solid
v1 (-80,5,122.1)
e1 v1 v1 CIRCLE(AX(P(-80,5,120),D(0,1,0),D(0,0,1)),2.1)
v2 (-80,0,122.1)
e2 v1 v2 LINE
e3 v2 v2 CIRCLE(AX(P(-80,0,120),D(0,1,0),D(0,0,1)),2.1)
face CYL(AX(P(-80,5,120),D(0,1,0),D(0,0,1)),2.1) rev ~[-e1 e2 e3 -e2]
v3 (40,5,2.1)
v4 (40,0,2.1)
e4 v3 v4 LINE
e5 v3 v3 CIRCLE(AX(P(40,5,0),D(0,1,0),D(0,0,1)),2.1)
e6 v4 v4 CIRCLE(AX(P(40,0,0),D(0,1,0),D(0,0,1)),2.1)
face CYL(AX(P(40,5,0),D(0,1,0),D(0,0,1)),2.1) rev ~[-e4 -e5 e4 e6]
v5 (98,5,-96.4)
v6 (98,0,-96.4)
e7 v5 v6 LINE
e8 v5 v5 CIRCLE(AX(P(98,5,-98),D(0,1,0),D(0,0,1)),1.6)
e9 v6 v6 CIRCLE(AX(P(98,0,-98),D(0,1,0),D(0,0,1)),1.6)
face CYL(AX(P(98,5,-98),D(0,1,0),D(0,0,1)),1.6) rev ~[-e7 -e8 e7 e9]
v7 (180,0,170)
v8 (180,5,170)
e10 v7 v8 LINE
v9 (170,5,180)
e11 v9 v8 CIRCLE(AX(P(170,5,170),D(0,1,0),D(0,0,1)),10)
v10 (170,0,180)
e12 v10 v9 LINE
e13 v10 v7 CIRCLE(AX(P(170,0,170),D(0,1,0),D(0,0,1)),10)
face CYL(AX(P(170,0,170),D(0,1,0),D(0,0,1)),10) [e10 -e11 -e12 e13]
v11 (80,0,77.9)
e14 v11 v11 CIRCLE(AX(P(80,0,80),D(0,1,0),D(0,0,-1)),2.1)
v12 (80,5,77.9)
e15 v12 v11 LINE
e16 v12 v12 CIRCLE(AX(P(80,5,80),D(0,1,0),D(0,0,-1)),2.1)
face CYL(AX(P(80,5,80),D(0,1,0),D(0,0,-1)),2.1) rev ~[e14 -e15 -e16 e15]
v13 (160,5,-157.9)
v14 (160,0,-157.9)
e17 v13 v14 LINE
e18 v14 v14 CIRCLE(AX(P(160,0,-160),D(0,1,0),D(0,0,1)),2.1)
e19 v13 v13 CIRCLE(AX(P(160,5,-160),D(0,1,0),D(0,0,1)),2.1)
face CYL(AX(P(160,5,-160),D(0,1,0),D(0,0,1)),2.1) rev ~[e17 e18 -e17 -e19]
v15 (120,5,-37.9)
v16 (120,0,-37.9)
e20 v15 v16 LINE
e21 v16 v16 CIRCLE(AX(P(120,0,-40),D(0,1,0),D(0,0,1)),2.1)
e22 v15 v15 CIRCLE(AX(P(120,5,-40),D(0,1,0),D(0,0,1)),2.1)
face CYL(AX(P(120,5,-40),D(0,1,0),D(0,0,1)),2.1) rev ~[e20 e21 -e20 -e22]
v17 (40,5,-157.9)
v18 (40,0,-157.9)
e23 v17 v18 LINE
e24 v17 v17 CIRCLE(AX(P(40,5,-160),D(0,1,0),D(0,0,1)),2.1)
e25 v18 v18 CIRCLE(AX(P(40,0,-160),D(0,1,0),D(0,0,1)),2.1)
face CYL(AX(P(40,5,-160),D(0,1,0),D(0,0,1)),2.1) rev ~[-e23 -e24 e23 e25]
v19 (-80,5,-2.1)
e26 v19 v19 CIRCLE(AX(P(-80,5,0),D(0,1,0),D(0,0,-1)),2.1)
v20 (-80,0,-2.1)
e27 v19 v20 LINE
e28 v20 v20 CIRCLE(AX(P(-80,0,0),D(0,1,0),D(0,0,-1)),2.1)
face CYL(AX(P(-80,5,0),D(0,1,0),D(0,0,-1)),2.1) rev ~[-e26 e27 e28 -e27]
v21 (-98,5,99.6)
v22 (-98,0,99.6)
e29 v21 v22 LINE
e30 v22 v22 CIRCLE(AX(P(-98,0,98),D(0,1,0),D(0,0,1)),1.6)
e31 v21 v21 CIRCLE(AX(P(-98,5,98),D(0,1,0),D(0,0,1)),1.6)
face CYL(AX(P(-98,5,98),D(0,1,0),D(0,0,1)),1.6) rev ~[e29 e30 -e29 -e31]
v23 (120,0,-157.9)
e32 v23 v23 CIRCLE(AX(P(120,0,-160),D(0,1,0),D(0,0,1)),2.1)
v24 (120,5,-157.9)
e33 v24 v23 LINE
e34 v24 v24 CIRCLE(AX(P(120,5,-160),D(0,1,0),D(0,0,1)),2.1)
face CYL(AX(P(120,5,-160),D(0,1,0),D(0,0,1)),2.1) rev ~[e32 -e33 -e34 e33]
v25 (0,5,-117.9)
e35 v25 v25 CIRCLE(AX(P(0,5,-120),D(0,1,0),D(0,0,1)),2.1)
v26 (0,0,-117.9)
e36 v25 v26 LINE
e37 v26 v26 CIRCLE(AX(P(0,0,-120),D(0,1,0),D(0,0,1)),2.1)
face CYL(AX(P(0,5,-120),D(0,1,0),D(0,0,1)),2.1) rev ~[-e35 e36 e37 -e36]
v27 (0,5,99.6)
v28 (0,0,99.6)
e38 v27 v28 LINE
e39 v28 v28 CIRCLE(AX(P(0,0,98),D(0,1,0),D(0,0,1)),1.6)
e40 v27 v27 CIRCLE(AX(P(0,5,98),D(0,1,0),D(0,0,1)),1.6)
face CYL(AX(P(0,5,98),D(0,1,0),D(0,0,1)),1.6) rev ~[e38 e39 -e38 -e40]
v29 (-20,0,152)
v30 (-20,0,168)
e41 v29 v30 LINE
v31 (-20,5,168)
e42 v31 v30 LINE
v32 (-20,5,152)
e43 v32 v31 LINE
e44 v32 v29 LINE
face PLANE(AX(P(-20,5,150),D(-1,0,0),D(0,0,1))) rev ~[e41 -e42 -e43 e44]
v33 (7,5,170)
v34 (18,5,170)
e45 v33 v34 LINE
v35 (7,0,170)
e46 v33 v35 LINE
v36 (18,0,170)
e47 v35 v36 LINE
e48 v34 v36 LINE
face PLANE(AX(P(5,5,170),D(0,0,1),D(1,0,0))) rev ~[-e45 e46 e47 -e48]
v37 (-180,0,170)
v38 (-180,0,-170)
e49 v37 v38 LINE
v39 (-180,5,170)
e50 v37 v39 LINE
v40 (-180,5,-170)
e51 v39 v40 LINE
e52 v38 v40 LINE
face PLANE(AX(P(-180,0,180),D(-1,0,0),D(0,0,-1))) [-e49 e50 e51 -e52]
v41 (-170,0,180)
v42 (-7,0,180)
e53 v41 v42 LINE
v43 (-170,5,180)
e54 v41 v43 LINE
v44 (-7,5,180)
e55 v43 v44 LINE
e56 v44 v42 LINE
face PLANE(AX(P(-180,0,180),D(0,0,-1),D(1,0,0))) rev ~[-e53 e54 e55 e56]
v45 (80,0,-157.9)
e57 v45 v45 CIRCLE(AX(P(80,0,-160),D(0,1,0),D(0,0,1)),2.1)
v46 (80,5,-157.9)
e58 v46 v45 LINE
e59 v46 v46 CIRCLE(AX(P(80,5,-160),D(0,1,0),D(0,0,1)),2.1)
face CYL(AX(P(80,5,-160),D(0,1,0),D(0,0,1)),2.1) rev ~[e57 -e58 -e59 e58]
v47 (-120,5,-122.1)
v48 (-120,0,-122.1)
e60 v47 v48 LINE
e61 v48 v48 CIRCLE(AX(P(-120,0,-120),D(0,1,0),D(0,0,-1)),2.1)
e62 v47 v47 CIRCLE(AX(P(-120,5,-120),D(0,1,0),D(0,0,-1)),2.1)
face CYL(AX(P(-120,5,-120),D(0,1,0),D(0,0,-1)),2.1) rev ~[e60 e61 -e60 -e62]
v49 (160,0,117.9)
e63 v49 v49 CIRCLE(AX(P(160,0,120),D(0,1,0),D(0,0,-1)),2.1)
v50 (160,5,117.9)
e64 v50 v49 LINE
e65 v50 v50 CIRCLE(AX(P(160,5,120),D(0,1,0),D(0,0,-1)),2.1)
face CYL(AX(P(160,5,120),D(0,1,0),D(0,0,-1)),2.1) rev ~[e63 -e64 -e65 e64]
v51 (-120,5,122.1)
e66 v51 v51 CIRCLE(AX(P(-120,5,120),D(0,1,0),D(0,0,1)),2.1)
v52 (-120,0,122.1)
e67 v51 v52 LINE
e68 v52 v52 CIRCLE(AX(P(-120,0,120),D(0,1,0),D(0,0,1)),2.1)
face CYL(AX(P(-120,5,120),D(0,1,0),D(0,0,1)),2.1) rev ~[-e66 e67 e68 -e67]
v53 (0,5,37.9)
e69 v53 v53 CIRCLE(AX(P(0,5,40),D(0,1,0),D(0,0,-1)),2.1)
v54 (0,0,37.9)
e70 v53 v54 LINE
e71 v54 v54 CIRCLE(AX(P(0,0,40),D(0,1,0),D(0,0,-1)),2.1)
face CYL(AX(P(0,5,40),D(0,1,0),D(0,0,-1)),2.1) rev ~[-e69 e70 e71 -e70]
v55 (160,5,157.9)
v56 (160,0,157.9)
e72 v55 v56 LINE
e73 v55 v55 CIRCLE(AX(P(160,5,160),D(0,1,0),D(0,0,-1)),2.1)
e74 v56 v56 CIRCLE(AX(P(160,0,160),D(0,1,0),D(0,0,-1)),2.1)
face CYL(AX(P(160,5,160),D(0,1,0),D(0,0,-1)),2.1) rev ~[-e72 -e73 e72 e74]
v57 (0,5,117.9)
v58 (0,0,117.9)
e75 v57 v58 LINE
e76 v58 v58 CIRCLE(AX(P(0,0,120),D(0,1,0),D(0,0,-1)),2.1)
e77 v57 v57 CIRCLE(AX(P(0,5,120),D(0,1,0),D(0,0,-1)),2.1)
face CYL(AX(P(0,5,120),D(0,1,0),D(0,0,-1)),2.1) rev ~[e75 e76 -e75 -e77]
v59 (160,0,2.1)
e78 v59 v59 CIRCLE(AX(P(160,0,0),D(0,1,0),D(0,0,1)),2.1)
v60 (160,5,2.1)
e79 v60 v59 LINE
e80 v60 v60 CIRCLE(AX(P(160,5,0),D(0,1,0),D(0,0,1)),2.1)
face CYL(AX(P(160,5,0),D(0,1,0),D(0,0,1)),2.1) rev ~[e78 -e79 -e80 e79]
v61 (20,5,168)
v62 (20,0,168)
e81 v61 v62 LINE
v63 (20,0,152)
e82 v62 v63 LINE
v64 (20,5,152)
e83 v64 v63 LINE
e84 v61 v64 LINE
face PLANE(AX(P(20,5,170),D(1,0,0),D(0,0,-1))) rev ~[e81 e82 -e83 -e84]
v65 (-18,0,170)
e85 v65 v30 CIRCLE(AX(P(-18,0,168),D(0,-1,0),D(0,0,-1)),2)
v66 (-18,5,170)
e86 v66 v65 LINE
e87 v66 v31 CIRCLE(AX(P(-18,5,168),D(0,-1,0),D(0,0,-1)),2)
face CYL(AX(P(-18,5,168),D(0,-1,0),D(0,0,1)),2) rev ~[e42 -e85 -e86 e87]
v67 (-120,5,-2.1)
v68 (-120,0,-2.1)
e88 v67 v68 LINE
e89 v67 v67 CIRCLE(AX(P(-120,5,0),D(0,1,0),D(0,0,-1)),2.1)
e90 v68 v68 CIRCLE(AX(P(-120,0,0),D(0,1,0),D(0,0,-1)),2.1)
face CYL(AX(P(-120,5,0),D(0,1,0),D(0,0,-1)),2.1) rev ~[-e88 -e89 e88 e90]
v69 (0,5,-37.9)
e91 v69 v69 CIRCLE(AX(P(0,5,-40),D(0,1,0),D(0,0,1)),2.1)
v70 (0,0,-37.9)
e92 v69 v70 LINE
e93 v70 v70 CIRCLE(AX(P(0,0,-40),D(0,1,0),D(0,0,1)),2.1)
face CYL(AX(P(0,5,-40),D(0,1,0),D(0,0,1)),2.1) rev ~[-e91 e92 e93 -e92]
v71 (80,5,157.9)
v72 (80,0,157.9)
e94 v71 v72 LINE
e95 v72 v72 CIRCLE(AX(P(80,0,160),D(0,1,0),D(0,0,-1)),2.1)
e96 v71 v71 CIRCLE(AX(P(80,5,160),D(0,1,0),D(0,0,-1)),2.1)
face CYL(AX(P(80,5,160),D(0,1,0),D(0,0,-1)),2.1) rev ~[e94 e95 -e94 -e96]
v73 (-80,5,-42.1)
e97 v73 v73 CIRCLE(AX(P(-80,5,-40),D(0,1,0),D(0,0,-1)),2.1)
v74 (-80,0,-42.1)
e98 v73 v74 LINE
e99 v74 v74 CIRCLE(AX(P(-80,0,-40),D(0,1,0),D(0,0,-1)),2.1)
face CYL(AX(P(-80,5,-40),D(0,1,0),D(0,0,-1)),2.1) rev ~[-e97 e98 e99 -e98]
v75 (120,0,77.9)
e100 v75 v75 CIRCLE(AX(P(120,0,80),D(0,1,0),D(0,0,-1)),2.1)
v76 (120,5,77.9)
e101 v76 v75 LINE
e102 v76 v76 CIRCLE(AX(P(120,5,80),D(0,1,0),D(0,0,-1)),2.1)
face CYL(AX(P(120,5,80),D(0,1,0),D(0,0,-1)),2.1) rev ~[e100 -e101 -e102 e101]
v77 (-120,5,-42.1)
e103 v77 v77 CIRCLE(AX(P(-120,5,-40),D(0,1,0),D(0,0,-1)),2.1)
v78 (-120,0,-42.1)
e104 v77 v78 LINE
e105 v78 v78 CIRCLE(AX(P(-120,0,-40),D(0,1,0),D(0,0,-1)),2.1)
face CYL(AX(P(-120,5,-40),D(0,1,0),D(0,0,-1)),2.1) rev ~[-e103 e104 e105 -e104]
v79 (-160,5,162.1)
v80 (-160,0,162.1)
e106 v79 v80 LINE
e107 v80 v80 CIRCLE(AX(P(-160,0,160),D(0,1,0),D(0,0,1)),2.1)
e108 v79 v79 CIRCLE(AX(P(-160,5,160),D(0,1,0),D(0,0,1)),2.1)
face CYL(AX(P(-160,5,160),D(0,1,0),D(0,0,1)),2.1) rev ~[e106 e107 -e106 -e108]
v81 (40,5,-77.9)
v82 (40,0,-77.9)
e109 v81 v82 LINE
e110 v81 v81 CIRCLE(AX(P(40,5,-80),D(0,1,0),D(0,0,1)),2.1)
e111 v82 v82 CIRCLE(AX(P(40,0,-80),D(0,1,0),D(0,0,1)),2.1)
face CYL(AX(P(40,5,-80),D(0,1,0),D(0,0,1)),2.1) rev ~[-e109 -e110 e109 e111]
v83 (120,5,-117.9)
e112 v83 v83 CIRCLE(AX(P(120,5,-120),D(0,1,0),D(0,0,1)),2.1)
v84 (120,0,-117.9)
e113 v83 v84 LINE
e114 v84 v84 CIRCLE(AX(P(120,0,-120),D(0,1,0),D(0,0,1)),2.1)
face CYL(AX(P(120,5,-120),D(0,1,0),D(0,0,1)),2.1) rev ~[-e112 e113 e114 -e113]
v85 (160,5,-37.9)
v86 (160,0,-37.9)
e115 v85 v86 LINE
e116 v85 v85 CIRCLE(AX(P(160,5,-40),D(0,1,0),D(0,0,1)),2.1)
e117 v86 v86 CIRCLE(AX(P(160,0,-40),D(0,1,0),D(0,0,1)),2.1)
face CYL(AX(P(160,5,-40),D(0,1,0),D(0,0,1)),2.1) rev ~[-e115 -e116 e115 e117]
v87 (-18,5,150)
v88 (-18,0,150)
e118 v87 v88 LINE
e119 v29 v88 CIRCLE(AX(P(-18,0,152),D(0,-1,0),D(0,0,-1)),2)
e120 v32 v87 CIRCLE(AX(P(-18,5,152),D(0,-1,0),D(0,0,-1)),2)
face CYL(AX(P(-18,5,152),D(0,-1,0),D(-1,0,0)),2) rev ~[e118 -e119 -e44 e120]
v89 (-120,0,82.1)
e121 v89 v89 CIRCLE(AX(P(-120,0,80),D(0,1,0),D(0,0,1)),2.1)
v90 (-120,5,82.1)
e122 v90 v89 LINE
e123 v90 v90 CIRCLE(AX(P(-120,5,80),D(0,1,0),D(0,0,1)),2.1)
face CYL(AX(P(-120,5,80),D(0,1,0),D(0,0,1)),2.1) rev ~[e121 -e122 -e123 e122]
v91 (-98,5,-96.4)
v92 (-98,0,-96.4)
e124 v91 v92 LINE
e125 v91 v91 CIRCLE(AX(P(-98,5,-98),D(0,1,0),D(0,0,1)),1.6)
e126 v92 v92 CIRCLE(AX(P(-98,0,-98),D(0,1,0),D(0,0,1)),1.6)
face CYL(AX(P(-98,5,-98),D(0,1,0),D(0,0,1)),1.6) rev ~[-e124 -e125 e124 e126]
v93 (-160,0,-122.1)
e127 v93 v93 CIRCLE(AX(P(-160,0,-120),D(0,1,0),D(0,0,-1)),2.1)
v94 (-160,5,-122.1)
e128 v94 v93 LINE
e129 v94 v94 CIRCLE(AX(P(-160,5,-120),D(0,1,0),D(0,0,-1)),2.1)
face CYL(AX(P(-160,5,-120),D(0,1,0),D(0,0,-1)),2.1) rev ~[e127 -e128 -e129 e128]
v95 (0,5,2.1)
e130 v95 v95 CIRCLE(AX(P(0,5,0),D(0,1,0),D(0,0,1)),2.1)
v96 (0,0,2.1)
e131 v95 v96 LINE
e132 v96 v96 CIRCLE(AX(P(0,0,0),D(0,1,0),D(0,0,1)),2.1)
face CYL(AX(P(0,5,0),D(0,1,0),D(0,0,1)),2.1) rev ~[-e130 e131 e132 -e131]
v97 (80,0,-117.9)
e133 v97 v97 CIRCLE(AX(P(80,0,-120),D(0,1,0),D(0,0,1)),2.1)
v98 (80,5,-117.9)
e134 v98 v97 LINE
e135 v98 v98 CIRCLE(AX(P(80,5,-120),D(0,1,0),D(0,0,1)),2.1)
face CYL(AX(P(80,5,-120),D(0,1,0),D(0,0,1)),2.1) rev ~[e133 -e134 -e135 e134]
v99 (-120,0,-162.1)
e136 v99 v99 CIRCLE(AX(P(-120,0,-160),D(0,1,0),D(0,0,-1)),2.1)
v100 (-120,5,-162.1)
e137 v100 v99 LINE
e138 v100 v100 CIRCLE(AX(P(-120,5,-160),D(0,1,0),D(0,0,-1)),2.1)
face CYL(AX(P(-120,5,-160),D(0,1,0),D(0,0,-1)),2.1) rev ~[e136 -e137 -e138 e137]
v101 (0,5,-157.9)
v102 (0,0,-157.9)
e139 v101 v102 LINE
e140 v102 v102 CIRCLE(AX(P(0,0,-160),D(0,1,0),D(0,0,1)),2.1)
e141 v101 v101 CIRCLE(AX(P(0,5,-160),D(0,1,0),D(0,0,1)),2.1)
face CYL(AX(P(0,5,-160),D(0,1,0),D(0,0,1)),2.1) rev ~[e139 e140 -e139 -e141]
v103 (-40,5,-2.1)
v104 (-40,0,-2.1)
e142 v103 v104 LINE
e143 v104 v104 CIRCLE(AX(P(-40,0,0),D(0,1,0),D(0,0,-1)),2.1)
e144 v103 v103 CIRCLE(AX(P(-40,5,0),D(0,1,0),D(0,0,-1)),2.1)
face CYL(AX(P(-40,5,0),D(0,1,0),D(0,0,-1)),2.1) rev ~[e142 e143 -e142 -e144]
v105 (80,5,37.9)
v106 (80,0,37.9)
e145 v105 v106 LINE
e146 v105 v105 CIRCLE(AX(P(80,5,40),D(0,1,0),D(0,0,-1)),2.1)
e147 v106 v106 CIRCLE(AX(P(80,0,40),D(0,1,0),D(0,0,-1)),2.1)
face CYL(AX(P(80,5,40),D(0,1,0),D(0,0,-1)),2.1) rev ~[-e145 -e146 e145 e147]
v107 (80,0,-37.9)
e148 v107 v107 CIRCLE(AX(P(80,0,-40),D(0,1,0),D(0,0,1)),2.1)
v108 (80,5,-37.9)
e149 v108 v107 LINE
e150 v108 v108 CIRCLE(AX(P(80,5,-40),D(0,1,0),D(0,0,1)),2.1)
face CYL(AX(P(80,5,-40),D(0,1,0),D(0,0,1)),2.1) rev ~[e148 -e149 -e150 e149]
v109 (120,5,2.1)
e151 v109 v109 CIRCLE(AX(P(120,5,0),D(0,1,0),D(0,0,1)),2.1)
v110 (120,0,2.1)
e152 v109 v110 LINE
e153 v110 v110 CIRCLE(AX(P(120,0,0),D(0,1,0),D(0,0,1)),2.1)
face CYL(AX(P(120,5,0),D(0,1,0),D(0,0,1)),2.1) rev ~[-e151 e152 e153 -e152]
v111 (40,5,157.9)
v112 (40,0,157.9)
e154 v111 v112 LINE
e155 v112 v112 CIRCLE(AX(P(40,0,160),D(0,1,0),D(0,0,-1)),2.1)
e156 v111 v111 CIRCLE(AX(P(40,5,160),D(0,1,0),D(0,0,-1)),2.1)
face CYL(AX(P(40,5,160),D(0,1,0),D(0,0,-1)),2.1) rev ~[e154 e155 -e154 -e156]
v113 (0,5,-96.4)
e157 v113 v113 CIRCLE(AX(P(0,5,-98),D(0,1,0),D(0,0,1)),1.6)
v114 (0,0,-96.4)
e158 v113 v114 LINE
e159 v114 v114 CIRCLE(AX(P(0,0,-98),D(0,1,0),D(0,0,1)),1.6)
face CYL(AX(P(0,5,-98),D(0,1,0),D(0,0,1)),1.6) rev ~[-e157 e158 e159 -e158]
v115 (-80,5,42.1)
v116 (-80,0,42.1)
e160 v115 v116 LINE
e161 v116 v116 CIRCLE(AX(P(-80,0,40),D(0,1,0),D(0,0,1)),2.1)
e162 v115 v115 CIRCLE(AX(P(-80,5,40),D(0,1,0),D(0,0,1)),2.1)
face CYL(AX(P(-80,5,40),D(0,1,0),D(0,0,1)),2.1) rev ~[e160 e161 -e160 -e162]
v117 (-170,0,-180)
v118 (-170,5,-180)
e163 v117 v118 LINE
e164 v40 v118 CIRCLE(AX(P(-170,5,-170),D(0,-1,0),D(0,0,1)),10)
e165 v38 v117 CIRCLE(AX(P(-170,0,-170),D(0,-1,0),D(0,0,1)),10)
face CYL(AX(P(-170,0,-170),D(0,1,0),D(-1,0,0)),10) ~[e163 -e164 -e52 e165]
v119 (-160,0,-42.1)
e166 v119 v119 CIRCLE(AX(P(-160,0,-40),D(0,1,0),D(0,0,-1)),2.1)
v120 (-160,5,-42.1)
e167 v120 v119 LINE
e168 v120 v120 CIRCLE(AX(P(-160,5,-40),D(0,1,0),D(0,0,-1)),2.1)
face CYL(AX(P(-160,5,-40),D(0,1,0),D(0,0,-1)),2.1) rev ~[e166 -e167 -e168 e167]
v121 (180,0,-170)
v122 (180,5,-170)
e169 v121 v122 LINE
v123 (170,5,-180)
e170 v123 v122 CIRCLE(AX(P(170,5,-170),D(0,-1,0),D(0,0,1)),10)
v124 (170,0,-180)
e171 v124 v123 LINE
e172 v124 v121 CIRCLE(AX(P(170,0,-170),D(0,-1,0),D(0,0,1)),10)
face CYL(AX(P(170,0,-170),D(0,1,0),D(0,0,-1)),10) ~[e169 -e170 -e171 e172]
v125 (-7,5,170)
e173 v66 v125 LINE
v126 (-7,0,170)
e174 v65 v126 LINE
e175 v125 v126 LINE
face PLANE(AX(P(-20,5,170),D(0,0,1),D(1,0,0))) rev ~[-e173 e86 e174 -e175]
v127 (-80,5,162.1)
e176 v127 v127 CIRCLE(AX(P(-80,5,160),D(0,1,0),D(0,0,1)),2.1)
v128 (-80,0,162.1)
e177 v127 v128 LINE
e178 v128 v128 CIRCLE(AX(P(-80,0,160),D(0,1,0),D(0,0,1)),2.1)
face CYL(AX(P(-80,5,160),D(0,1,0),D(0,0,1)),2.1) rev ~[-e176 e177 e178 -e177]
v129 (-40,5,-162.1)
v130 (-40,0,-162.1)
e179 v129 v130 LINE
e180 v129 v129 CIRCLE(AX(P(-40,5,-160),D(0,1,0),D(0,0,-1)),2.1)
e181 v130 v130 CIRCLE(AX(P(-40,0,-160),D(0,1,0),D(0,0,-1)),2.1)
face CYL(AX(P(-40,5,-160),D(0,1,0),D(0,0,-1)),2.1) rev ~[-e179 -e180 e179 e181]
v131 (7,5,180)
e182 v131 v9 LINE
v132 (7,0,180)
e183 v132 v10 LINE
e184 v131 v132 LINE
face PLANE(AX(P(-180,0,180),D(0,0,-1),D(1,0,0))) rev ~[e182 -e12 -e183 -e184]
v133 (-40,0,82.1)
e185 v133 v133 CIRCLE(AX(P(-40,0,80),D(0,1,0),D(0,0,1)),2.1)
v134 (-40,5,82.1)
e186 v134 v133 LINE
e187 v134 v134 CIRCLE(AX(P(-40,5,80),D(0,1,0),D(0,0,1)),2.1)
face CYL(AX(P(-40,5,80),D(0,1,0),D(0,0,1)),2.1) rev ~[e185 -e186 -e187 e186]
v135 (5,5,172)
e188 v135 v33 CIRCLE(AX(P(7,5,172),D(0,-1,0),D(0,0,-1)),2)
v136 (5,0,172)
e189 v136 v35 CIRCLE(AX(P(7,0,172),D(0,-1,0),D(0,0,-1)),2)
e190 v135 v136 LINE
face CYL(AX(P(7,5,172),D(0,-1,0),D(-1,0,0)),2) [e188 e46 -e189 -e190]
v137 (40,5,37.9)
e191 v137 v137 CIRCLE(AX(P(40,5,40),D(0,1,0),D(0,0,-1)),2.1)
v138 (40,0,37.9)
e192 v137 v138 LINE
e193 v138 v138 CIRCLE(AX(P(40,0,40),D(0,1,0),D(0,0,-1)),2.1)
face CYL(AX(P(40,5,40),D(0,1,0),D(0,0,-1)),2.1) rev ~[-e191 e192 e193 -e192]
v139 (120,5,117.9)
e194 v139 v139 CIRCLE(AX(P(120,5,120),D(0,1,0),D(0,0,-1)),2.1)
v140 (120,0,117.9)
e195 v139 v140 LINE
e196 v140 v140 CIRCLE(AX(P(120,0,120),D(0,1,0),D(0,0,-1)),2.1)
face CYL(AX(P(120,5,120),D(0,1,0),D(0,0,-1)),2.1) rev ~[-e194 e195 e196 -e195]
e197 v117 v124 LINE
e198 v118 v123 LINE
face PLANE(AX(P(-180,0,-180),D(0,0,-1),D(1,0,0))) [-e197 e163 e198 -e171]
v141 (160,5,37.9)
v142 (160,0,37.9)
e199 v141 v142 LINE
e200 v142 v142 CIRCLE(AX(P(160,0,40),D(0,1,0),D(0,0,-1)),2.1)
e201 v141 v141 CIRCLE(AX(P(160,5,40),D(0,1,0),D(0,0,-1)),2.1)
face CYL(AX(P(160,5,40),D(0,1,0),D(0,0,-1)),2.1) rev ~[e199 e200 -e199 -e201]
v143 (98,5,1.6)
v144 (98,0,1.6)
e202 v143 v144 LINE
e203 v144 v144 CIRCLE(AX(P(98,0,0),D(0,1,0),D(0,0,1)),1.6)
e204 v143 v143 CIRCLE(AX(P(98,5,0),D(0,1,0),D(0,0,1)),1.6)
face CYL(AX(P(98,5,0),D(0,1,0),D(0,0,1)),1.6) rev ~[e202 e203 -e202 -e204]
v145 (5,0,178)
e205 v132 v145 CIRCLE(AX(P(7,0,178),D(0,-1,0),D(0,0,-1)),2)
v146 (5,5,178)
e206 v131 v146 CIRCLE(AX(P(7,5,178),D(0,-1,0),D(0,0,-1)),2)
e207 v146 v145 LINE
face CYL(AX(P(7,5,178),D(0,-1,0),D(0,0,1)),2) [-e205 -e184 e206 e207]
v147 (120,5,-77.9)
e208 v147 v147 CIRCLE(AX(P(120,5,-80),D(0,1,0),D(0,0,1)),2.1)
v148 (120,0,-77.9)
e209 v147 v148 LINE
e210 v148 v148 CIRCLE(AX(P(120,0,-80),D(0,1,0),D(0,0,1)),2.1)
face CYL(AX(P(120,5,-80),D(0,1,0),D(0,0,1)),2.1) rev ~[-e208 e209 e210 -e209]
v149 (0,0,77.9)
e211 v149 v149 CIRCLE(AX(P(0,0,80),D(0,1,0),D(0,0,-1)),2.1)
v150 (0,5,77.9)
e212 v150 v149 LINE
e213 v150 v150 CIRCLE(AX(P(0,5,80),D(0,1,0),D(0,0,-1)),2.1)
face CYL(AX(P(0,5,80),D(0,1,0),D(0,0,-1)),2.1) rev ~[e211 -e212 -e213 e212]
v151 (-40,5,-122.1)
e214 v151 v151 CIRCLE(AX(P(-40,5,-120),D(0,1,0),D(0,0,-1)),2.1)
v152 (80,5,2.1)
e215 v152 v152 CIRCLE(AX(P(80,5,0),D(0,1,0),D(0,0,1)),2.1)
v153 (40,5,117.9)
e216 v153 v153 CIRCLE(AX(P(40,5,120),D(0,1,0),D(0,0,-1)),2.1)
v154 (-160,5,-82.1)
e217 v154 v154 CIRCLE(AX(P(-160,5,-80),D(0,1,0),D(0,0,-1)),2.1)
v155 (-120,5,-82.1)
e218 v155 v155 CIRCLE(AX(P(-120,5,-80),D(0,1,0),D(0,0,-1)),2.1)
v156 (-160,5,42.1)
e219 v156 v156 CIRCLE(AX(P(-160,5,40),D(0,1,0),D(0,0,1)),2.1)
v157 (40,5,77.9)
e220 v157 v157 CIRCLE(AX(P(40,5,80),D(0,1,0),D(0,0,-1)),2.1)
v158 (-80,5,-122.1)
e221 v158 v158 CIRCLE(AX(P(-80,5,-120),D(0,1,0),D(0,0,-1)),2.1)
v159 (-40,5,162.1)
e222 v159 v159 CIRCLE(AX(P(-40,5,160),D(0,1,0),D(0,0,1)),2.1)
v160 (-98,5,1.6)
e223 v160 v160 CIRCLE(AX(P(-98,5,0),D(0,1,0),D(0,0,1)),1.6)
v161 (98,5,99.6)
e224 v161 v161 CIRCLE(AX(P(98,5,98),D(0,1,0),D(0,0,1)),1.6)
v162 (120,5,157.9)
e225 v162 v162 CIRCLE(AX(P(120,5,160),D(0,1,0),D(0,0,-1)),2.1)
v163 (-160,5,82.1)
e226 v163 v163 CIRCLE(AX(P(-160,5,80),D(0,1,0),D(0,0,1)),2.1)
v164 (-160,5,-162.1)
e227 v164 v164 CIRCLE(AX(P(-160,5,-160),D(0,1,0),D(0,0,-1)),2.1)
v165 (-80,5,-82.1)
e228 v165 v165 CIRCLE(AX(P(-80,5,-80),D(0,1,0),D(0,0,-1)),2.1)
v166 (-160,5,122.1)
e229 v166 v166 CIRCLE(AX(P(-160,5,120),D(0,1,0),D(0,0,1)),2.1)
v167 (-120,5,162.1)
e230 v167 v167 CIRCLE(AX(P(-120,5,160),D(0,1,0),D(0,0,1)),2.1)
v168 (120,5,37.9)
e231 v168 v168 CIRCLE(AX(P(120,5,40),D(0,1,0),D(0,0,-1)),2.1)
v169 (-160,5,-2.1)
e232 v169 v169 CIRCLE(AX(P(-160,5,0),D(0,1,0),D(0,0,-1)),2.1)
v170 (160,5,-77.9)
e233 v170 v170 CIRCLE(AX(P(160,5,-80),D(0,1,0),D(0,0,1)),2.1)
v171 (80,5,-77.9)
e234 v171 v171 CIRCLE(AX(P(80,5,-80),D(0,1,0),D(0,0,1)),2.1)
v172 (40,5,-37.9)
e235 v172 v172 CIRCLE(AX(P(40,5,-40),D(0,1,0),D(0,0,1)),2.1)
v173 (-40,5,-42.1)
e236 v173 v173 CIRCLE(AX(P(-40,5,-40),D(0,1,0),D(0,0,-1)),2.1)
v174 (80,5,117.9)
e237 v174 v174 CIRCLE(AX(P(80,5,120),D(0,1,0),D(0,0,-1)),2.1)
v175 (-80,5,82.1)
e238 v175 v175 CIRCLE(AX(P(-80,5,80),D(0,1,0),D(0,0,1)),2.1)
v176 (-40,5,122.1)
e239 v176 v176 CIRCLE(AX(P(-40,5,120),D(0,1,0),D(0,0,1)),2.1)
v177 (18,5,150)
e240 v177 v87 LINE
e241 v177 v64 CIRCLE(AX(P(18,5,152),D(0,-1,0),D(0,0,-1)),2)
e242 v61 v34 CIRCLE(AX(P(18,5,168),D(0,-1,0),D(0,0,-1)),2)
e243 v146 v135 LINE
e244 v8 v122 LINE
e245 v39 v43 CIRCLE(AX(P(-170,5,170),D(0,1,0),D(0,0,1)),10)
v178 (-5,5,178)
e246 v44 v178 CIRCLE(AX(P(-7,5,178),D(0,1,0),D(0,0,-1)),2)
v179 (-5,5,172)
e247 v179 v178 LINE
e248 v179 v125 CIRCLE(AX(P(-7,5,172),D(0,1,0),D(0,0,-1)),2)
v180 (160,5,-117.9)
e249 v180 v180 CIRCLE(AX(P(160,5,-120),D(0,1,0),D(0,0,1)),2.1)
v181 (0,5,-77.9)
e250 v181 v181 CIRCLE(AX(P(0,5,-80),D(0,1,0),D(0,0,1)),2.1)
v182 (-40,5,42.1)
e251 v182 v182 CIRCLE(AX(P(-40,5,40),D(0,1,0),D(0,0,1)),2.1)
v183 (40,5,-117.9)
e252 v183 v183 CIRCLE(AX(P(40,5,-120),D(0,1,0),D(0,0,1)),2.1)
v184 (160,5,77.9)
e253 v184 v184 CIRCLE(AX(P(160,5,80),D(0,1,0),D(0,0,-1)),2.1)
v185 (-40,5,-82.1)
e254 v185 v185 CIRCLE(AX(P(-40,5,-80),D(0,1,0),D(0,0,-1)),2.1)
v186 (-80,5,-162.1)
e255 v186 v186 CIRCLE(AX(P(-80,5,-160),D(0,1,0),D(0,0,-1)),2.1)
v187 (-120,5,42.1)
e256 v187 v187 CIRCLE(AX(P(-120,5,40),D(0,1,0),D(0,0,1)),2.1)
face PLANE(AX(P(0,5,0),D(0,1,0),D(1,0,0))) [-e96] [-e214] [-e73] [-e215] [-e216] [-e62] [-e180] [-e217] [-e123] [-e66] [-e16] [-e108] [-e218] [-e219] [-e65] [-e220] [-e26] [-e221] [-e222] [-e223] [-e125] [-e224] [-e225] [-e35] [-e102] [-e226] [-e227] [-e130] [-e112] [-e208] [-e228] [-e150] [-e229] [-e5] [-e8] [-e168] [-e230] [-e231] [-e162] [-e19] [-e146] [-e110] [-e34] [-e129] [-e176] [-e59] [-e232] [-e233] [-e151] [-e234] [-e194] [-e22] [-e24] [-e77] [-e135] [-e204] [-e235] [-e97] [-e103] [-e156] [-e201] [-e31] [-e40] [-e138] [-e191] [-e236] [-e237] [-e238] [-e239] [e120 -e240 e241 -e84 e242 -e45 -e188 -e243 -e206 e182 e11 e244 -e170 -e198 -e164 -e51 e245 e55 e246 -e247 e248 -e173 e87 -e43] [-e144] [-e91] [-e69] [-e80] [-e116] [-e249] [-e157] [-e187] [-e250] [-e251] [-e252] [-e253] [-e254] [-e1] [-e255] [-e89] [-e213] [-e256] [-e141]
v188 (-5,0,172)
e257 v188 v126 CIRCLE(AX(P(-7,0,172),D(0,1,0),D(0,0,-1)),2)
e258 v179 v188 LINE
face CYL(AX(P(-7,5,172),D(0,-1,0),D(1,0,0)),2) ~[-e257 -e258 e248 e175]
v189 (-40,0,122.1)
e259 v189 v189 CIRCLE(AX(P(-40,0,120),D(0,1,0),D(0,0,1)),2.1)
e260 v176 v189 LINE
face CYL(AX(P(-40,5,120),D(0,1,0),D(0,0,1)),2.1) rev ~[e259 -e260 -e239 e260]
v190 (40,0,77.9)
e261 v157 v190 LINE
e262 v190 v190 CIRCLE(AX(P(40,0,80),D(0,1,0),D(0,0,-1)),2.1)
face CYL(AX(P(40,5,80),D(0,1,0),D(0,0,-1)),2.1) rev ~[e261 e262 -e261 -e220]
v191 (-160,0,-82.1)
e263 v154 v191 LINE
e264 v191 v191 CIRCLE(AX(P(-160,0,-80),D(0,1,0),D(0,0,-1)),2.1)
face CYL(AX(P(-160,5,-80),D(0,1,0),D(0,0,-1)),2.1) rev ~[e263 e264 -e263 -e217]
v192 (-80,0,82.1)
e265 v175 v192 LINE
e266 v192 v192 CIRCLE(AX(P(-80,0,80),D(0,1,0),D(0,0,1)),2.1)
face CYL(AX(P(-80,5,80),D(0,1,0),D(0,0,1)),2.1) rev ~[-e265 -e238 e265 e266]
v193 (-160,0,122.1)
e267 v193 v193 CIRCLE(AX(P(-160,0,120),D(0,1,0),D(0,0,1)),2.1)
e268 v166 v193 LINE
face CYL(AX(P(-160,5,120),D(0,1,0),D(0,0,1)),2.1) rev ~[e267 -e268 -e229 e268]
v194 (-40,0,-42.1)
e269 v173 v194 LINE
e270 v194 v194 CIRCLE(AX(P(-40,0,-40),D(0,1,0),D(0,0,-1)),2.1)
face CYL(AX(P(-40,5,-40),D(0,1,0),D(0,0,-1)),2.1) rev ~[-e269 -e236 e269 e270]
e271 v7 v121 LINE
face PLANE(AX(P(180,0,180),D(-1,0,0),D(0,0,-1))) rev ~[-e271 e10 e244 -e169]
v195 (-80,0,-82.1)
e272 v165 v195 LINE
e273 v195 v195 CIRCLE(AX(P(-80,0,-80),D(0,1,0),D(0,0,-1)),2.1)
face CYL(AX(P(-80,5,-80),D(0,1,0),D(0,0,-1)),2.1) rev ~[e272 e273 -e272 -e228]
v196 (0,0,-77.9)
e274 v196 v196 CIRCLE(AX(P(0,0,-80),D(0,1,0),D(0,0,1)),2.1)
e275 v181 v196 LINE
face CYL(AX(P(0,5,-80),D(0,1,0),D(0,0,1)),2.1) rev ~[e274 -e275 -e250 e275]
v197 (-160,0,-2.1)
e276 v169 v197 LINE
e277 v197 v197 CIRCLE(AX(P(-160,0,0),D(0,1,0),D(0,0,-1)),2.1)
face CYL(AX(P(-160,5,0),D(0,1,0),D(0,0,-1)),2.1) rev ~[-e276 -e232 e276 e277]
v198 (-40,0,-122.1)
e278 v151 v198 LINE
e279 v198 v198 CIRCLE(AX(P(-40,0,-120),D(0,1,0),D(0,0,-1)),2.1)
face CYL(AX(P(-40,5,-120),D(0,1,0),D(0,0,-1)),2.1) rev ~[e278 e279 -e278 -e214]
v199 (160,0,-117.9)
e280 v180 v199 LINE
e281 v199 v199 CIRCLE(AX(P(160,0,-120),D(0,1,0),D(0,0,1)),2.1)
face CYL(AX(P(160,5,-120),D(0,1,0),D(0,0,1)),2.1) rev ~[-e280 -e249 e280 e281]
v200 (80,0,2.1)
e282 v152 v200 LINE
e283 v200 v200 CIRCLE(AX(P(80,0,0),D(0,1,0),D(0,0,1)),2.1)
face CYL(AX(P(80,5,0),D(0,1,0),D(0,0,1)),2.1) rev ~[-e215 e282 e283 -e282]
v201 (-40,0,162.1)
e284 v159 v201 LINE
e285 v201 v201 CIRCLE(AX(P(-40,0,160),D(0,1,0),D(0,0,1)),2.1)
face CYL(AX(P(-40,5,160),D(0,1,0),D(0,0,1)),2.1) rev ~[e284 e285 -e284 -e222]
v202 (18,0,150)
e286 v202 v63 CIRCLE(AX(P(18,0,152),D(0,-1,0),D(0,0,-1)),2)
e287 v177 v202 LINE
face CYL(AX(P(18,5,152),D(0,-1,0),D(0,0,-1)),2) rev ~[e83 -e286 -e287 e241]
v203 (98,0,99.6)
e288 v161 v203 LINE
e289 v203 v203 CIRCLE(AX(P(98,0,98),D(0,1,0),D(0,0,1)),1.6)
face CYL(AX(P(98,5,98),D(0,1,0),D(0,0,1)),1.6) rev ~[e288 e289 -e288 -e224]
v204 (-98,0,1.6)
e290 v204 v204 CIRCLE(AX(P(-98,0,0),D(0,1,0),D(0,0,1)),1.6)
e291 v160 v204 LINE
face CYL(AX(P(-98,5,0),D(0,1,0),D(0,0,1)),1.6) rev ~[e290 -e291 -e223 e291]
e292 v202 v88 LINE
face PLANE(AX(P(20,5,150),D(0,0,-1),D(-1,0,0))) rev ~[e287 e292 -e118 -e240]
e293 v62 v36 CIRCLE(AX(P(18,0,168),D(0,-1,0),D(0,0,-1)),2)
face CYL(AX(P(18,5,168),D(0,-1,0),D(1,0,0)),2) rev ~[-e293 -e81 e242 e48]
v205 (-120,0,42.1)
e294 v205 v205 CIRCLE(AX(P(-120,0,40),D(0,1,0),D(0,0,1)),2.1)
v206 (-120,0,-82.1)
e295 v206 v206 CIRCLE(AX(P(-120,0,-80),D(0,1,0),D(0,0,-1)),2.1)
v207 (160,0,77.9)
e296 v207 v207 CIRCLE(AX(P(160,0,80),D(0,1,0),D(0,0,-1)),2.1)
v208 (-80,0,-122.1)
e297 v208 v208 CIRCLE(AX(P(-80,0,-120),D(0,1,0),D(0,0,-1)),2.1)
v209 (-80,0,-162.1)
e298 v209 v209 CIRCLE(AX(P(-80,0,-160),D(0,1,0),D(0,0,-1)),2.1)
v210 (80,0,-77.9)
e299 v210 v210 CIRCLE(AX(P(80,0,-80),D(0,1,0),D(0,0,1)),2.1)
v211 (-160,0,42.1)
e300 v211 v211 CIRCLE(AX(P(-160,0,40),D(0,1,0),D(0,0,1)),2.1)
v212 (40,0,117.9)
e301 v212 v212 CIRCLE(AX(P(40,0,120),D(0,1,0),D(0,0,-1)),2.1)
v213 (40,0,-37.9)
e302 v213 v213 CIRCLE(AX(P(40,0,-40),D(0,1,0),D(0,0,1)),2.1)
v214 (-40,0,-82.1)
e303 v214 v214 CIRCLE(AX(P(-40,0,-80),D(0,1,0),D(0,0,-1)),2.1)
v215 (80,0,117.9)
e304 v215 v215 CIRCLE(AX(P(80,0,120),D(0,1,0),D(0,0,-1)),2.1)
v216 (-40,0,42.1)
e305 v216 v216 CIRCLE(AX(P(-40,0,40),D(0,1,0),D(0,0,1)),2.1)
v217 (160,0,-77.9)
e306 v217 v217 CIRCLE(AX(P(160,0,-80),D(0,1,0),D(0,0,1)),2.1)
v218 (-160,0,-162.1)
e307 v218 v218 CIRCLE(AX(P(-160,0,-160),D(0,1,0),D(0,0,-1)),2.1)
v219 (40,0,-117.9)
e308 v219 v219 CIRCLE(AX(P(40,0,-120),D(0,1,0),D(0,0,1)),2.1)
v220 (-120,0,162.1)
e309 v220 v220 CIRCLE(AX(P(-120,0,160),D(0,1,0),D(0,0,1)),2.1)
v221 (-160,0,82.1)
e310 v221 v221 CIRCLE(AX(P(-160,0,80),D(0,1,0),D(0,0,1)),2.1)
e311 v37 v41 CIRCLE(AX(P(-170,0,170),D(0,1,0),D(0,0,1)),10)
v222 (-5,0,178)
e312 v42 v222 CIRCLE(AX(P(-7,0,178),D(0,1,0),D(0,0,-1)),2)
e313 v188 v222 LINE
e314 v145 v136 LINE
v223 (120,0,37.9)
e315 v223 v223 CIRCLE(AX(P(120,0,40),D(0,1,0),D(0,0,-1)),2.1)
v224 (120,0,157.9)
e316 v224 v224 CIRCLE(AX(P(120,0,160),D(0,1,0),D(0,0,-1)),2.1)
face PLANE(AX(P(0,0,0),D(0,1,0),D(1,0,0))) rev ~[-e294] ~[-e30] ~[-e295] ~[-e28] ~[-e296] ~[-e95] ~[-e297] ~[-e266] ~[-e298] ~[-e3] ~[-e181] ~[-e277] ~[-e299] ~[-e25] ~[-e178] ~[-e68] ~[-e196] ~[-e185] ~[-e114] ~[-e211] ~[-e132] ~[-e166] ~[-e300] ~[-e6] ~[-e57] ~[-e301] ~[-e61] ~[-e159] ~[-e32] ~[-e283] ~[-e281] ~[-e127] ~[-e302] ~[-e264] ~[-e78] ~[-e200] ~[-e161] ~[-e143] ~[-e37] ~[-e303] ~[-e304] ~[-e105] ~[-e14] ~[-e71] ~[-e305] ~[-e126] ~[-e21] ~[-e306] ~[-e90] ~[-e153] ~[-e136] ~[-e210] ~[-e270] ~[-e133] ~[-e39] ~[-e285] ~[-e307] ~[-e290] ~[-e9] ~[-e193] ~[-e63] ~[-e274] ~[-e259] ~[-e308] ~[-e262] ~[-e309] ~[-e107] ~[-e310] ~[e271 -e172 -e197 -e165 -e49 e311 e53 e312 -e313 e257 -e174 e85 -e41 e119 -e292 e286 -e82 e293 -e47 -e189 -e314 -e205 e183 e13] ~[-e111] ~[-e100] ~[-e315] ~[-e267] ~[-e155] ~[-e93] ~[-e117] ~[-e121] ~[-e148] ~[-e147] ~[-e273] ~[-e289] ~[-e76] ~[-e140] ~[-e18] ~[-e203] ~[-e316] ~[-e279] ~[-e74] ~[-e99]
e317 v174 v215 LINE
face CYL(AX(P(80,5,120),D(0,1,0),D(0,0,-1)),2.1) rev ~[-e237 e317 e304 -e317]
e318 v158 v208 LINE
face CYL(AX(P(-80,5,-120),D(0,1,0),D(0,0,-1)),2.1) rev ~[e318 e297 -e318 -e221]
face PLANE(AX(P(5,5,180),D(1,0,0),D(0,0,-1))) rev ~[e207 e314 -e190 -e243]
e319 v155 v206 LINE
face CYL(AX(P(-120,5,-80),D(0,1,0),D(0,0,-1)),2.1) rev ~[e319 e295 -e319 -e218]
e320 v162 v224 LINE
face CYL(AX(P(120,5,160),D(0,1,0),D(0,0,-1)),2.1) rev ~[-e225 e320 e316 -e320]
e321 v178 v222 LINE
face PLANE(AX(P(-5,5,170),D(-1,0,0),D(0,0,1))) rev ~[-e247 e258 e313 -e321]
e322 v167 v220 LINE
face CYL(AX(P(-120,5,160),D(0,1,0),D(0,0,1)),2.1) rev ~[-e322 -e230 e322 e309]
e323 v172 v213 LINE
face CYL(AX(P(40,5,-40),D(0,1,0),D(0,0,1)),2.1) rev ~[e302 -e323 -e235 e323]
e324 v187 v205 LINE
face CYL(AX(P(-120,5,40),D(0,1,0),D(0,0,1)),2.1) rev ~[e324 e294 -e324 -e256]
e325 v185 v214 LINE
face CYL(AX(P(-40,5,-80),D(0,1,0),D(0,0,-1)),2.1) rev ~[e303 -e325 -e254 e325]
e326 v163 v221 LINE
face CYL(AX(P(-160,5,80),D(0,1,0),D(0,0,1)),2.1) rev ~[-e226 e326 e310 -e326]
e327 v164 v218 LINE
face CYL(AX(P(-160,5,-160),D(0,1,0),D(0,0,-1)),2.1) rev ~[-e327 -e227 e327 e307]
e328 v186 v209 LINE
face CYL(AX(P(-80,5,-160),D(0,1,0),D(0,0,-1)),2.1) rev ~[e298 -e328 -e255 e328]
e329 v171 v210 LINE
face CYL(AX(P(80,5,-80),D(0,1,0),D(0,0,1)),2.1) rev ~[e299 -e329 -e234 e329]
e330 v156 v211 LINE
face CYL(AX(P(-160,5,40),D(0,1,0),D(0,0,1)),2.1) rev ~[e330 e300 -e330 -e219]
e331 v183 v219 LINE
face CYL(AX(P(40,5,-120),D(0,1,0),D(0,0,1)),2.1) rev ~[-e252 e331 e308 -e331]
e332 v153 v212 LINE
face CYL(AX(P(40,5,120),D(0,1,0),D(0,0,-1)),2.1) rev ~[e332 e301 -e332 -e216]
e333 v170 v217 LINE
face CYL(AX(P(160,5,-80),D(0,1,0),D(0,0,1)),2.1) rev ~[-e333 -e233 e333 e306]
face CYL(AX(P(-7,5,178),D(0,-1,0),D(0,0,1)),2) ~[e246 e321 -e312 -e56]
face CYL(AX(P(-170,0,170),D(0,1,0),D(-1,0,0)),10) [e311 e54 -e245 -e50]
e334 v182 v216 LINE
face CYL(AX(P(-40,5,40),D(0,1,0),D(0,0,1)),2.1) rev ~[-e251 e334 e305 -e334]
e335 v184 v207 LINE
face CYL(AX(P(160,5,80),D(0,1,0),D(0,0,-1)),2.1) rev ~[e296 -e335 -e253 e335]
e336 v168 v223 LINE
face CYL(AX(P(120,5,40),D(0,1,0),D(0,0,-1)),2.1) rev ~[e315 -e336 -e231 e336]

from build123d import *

# Parameters (mm, degrees)
SKETCH_1_W          = 360
SKETCH_1_H          = 360
EXTRUDE_1_DEPTH     = 5
SKETCH_2_R          = 2.1
CUT_EXTRUDE_1_DEPTH = 255.607541129
FILLET_1_R          = 10
CUT_EXTRUDE_2_DEPTH = 255.607541129
SKETCH_4_R          = 1.6
CUT_EXTRUDE_3_DEPTH = 10
FILLET_2_R          = 2


with BuildPart() as part:
    # 草图1 → 凸台-拉伸1 (new body)
    with BuildSketch(Plane(origin=(0, 0, 0), x_dir=(1, 0, 0), z_dir=(0, 1, 0))):
        Rectangle(SKETCH_1_W, SKETCH_1_H)
    extrude(amount=EXTRUDE_1_DEPTH)

    # 草图2 → 切除-拉伸1 (cut, through all)
    with BuildSketch(Plane(origin=(0, 5, 0), x_dir=(1, 0, 0), z_dir=(0, 1, 0))):
        with Locations(Location((0, 0, 0), (0, 0, 270))):
            Circle(SKETCH_2_R)
        with Locations(Location((40, 0, 0), (0, 0, 270))):
            Circle(SKETCH_2_R)
        with Locations(Location((80, 0, 0), (0, 0, 270))):
            Circle(SKETCH_2_R)
        with Locations(Location((120, 0, 0), (0, 0, 270))):
            Circle(SKETCH_2_R)
        with Locations(Location((160, 0, 0), (0, 0, 270))):
            Circle(SKETCH_2_R)
        with Locations(Location((40, 40, 0), (0, 0, 270))):
            Circle(SKETCH_2_R)
        with Locations(Location((80, 40, 0), (0, 0, 270))):
            Circle(SKETCH_2_R)
        with Locations(Location((120, 40, 0), (0, 0, 270))):
            Circle(SKETCH_2_R)
        with Locations(Location((160, 40, 0), (0, 0, 270))):
            Circle(SKETCH_2_R)
        with Locations(Location((40, 80, 0), (0, 0, 270))):
            Circle(SKETCH_2_R)
        with Locations(Location((80, 80, 0), (0, 0, 270))):
            Circle(SKETCH_2_R)
        with Locations(Location((120, 80, 0), (0, 0, 270))):
            Circle(SKETCH_2_R)
        with Locations(Location((160, 80, 0), (0, 0, 270))):
            Circle(SKETCH_2_R)
        with Locations(Location((40, 120, 0), (0, 0, 270))):
            Circle(SKETCH_2_R)
        with Locations(Location((80, 120, 0), (0, 0, 270))):
            Circle(SKETCH_2_R)
        with Locations(Location((120, 120, 0), (0, 0, 270))):
            Circle(SKETCH_2_R)
        with Locations(Location((160, 120, 0), (0, 0, 270))):
            Circle(SKETCH_2_R)
        with Locations(Location((40, 160, 0), (0, 0, 270))):
            Circle(SKETCH_2_R)
        with Locations(Location((80, 160, 0), (0, 0, 270))):
            Circle(SKETCH_2_R)
        with Locations(Location((120, 160, 0), (0, 0, 270))):
            Circle(SKETCH_2_R)
        with Locations(Location((160, 160, 0), (0, 0, 270))):
            Circle(SKETCH_2_R)
        with Locations(Location((0, 40, 0), (0, 0, 270))):
            Circle(SKETCH_2_R)
        with Locations(Location((0, 80, 0), (0, 0, 270))):
            Circle(SKETCH_2_R)
        with Locations(Location((0, 120, 0), (0, 0, 270))):
            Circle(SKETCH_2_R)
        with Locations(Location((0, 160, 0), (0, 0, 270))):
            Circle(SKETCH_2_R)
        with Locations(Location((0, -160, 0), (0, 0, 90))):
            Circle(SKETCH_2_R)
        with Locations(Location((0, -120, 0), (0, 0, 90))):
            Circle(SKETCH_2_R)
        with Locations(Location((0, -80, 0), (0, 0, 90))):
            Circle(SKETCH_2_R)
        with Locations(Location((0, -40, 0), (0, 0, 90))):
            Circle(SKETCH_2_R)
        with Locations(Location((160, -160, 0), (0, 0, 90))):
            Circle(SKETCH_2_R)
        with Locations(Location((120, -160, 0), (0, 0, 90))):
            Circle(SKETCH_2_R)
        with Locations(Location((80, -160, 0), (0, 0, 90))):
            Circle(SKETCH_2_R)
        with Locations(Location((40, -160, 0), (0, 0, 90))):
            Circle(SKETCH_2_R)
        with Locations(Location((160, -120, 0), (0, 0, 90))):
            Circle(SKETCH_2_R)
        with Locations(Location((120, -120, 0), (0, 0, 90))):
            Circle(SKETCH_2_R)
        with Locations(Location((80, -120, 0), (0, 0, 90))):
            Circle(SKETCH_2_R)
        with Locations(Location((40, -120, 0), (0, 0, 90))):
            Circle(SKETCH_2_R)
        with Locations(Location((160, -80, 0), (0, 0, 90))):
            Circle(SKETCH_2_R)
        with Locations(Location((120, -80, 0), (0, 0, 90))):
            Circle(SKETCH_2_R)
        with Locations(Location((80, -80, 0), (0, 0, 90))):
            Circle(SKETCH_2_R)
        with Locations(Location((40, -80, 0), (0, 0, 90))):
            Circle(SKETCH_2_R)
        with Locations(Location((160, -40, 0), (0, 0, 90))):
            Circle(SKETCH_2_R)
        with Locations(Location((120, -40, 0), (0, 0, 90))):
            Circle(SKETCH_2_R)
        with Locations(Location((80, -40, 0), (0, 0, 90))):
            Circle(SKETCH_2_R)
        with Locations(Location((40, -40, 0), (0, 0, 90))):
            Circle(SKETCH_2_R)
        with Locations(Location((-40, -40, 0), (0, 0, 270))):
            Circle(SKETCH_2_R)
        with Locations(Location((-80, -40, 0), (0, 0, 270))):
            Circle(SKETCH_2_R)
        with Locations(Location((-120, -40, 0), (0, 0, 270))):
            Circle(SKETCH_2_R)
        with Locations(Location((-160, -40, 0), (0, 0, 270))):
            Circle(SKETCH_2_R)
        with Locations(Location((-40, -80, 0), (0, 0, 270))):
            Circle(SKETCH_2_R)
        with Locations(Location((-80, -80, 0), (0, 0, 270))):
            Circle(SKETCH_2_R)
        with Locations(Location((-120, -80, 0), (0, 0, 270))):
            Circle(SKETCH_2_R)
        with Locations(Location((-160, -80, 0), (0, 0, 270))):
            Circle(SKETCH_2_R)
        with Locations(Location((-40, -120, 0), (0, 0, 270))):
            Circle(SKETCH_2_R)
        with Locations(Location((-80, -120, 0), (0, 0, 270))):
            Circle(SKETCH_2_R)
        with Locations(Location((-120, -120, 0), (0, 0, 270))):
            Circle(SKETCH_2_R)
        with Locations(Location((-160, -120, 0), (0, 0, 270))):
            Circle(SKETCH_2_R)
        with Locations(Location((-40, -160, 0), (0, 0, 270))):
            Circle(SKETCH_2_R)
        with Locations(Location((-80, -160, 0), (0, 0, 270))):
            Circle(SKETCH_2_R)
        with Locations(Location((-120, -160, 0), (0, 0, 270))):
            Circle(SKETCH_2_R)
        with Locations(Location((-160, -160, 0), (0, 0, 270))):
            Circle(SKETCH_2_R)
        with Locations(Location((-160, 160, 0), (0, 0, 90))):
            Circle(SKETCH_2_R)
        with Locations(Location((-120, 160, 0), (0, 0, 90))):
            Circle(SKETCH_2_R)
        with Locations(Location((-80, 160, 0), (0, 0, 90))):
            Circle(SKETCH_2_R)
        with Locations(Location((-40, 160, 0), (0, 0, 90))):
            Circle(SKETCH_2_R)
        with Locations(Location((-160, 120, 0), (0, 0, 90))):
            Circle(SKETCH_2_R)
        with Locations(Location((-120, 120, 0), (0, 0, 90))):
            Circle(SKETCH_2_R)
        with Locations(Location((-80, 120, 0), (0, 0, 90))):
            Circle(SKETCH_2_R)
        with Locations(Location((-40, 120, 0), (0, 0, 90))):
            Circle(SKETCH_2_R)
        with Locations(Location((-160, 80, 0), (0, 0, 90))):
            Circle(SKETCH_2_R)
        with Locations(Location((-120, 80, 0), (0, 0, 90))):
            Circle(SKETCH_2_R)
        with Locations(Location((-80, 80, 0), (0, 0, 90))):
            Circle(SKETCH_2_R)
        with Locations(Location((-40, 80, 0), (0, 0, 90))):
            Circle(SKETCH_2_R)
        with Locations(Location((-160, 40, 0), (0, 0, 90))):
            Circle(SKETCH_2_R)
        with Locations(Location((-120, 40, 0), (0, 0, 90))):
            Circle(SKETCH_2_R)
        with Locations(Location((-80, 40, 0), (0, 0, 90))):
            Circle(SKETCH_2_R)
        with Locations(Location((-40, 40, 0), (0, 0, 90))):
            Circle(SKETCH_2_R)
        with Locations(Location((-160, 0, 0), (0, 0, 90))):
            Circle(SKETCH_2_R)
        with Locations(Location((-120, 0, 0), (0, 0, 90))):
            Circle(SKETCH_2_R)
        with Locations(Location((-80, 0, 0), (0, 0, 90))):
            Circle(SKETCH_2_R)
        with Locations(Location((-40, 0, 0), (0, 0, 90))):
            Circle(SKETCH_2_R)
    extrude(amount=-CUT_EXTRUDE_1_DEPTH, mode=Mode.SUBTRACT)

    # 圆角1
    fillet_1_edges = [part.edges().sort_by_distance(p)[0] for p in [
        (180, 2.5, 180),
        (-180, 2.5, 180),
        (-180, 2.5, -180),
        (180, 2.5, -180),
    ]]
    fillet(fillet_1_edges, radius=FILLET_1_R)

    # 草图3 → 切除-拉伸2 (cut, through all)
    with BuildSketch(Plane(origin=(0, 5, 0), x_dir=(1, 0, 0), z_dir=(0, 1, 0))):
        Polygon((5, -180), (5, -170), (20, -170), (20, -150), (-20, -150), (-20, -170), (-5, -170), (-5, -180), align=None)
    extrude(amount=-CUT_EXTRUDE_2_DEPTH, mode=Mode.SUBTRACT)

    # 草图4 → 切除-拉伸3 (cut)
    with BuildSketch(Plane(origin=(0, 5, 0), x_dir=(1, 0, 0), z_dir=(0, 1, 0))):
        with Locations(Location((98, 98, 0), (0, 0, 270))):
            Circle(SKETCH_4_R)
        with Locations(Location((98, -98, 0), (0, 0, 270))):
            Circle(SKETCH_4_R)
        with Locations(Location((-98, -98, 0), (0, 0, 270))):
            Circle(SKETCH_4_R)
        with Locations(Location((-98, 98, 0), (0, 0, 270))):
            Circle(SKETCH_4_R)
        with Locations(Location((98, 0, 0), (0, 0, 270))):
            Circle(SKETCH_4_R)
        with Locations(Location((-98, 0, 0), (0, 0, 270))):
            Circle(SKETCH_4_R)
        with Locations(Location((0, 98, 0), (0, 0, 270))):
            Circle(SKETCH_4_R)
        with Locations(Location((0, -98, 0), (0, 0, 270))):
            Circle(SKETCH_4_R)
    extrude(amount=-CUT_EXTRUDE_3_DEPTH, mode=Mode.SUBTRACT)

    # 圆角2
    fillet_2_edges = [part.edges().sort_by_distance(p)[0] for p in [
        (-5, 2.5, 180),
        (-5, 2.5, 170),
        (-20, 2.5, 170),
        (-20, 2.5, 150),
        (20, 2.5, 150),
        (20, 2.5, 170),
        (5, 2.5, 170),
        (5, 2.5, 180),
    ]]
    fillet(fillet_2_edges, radius=FILLET_2_R)


solid = part.part
